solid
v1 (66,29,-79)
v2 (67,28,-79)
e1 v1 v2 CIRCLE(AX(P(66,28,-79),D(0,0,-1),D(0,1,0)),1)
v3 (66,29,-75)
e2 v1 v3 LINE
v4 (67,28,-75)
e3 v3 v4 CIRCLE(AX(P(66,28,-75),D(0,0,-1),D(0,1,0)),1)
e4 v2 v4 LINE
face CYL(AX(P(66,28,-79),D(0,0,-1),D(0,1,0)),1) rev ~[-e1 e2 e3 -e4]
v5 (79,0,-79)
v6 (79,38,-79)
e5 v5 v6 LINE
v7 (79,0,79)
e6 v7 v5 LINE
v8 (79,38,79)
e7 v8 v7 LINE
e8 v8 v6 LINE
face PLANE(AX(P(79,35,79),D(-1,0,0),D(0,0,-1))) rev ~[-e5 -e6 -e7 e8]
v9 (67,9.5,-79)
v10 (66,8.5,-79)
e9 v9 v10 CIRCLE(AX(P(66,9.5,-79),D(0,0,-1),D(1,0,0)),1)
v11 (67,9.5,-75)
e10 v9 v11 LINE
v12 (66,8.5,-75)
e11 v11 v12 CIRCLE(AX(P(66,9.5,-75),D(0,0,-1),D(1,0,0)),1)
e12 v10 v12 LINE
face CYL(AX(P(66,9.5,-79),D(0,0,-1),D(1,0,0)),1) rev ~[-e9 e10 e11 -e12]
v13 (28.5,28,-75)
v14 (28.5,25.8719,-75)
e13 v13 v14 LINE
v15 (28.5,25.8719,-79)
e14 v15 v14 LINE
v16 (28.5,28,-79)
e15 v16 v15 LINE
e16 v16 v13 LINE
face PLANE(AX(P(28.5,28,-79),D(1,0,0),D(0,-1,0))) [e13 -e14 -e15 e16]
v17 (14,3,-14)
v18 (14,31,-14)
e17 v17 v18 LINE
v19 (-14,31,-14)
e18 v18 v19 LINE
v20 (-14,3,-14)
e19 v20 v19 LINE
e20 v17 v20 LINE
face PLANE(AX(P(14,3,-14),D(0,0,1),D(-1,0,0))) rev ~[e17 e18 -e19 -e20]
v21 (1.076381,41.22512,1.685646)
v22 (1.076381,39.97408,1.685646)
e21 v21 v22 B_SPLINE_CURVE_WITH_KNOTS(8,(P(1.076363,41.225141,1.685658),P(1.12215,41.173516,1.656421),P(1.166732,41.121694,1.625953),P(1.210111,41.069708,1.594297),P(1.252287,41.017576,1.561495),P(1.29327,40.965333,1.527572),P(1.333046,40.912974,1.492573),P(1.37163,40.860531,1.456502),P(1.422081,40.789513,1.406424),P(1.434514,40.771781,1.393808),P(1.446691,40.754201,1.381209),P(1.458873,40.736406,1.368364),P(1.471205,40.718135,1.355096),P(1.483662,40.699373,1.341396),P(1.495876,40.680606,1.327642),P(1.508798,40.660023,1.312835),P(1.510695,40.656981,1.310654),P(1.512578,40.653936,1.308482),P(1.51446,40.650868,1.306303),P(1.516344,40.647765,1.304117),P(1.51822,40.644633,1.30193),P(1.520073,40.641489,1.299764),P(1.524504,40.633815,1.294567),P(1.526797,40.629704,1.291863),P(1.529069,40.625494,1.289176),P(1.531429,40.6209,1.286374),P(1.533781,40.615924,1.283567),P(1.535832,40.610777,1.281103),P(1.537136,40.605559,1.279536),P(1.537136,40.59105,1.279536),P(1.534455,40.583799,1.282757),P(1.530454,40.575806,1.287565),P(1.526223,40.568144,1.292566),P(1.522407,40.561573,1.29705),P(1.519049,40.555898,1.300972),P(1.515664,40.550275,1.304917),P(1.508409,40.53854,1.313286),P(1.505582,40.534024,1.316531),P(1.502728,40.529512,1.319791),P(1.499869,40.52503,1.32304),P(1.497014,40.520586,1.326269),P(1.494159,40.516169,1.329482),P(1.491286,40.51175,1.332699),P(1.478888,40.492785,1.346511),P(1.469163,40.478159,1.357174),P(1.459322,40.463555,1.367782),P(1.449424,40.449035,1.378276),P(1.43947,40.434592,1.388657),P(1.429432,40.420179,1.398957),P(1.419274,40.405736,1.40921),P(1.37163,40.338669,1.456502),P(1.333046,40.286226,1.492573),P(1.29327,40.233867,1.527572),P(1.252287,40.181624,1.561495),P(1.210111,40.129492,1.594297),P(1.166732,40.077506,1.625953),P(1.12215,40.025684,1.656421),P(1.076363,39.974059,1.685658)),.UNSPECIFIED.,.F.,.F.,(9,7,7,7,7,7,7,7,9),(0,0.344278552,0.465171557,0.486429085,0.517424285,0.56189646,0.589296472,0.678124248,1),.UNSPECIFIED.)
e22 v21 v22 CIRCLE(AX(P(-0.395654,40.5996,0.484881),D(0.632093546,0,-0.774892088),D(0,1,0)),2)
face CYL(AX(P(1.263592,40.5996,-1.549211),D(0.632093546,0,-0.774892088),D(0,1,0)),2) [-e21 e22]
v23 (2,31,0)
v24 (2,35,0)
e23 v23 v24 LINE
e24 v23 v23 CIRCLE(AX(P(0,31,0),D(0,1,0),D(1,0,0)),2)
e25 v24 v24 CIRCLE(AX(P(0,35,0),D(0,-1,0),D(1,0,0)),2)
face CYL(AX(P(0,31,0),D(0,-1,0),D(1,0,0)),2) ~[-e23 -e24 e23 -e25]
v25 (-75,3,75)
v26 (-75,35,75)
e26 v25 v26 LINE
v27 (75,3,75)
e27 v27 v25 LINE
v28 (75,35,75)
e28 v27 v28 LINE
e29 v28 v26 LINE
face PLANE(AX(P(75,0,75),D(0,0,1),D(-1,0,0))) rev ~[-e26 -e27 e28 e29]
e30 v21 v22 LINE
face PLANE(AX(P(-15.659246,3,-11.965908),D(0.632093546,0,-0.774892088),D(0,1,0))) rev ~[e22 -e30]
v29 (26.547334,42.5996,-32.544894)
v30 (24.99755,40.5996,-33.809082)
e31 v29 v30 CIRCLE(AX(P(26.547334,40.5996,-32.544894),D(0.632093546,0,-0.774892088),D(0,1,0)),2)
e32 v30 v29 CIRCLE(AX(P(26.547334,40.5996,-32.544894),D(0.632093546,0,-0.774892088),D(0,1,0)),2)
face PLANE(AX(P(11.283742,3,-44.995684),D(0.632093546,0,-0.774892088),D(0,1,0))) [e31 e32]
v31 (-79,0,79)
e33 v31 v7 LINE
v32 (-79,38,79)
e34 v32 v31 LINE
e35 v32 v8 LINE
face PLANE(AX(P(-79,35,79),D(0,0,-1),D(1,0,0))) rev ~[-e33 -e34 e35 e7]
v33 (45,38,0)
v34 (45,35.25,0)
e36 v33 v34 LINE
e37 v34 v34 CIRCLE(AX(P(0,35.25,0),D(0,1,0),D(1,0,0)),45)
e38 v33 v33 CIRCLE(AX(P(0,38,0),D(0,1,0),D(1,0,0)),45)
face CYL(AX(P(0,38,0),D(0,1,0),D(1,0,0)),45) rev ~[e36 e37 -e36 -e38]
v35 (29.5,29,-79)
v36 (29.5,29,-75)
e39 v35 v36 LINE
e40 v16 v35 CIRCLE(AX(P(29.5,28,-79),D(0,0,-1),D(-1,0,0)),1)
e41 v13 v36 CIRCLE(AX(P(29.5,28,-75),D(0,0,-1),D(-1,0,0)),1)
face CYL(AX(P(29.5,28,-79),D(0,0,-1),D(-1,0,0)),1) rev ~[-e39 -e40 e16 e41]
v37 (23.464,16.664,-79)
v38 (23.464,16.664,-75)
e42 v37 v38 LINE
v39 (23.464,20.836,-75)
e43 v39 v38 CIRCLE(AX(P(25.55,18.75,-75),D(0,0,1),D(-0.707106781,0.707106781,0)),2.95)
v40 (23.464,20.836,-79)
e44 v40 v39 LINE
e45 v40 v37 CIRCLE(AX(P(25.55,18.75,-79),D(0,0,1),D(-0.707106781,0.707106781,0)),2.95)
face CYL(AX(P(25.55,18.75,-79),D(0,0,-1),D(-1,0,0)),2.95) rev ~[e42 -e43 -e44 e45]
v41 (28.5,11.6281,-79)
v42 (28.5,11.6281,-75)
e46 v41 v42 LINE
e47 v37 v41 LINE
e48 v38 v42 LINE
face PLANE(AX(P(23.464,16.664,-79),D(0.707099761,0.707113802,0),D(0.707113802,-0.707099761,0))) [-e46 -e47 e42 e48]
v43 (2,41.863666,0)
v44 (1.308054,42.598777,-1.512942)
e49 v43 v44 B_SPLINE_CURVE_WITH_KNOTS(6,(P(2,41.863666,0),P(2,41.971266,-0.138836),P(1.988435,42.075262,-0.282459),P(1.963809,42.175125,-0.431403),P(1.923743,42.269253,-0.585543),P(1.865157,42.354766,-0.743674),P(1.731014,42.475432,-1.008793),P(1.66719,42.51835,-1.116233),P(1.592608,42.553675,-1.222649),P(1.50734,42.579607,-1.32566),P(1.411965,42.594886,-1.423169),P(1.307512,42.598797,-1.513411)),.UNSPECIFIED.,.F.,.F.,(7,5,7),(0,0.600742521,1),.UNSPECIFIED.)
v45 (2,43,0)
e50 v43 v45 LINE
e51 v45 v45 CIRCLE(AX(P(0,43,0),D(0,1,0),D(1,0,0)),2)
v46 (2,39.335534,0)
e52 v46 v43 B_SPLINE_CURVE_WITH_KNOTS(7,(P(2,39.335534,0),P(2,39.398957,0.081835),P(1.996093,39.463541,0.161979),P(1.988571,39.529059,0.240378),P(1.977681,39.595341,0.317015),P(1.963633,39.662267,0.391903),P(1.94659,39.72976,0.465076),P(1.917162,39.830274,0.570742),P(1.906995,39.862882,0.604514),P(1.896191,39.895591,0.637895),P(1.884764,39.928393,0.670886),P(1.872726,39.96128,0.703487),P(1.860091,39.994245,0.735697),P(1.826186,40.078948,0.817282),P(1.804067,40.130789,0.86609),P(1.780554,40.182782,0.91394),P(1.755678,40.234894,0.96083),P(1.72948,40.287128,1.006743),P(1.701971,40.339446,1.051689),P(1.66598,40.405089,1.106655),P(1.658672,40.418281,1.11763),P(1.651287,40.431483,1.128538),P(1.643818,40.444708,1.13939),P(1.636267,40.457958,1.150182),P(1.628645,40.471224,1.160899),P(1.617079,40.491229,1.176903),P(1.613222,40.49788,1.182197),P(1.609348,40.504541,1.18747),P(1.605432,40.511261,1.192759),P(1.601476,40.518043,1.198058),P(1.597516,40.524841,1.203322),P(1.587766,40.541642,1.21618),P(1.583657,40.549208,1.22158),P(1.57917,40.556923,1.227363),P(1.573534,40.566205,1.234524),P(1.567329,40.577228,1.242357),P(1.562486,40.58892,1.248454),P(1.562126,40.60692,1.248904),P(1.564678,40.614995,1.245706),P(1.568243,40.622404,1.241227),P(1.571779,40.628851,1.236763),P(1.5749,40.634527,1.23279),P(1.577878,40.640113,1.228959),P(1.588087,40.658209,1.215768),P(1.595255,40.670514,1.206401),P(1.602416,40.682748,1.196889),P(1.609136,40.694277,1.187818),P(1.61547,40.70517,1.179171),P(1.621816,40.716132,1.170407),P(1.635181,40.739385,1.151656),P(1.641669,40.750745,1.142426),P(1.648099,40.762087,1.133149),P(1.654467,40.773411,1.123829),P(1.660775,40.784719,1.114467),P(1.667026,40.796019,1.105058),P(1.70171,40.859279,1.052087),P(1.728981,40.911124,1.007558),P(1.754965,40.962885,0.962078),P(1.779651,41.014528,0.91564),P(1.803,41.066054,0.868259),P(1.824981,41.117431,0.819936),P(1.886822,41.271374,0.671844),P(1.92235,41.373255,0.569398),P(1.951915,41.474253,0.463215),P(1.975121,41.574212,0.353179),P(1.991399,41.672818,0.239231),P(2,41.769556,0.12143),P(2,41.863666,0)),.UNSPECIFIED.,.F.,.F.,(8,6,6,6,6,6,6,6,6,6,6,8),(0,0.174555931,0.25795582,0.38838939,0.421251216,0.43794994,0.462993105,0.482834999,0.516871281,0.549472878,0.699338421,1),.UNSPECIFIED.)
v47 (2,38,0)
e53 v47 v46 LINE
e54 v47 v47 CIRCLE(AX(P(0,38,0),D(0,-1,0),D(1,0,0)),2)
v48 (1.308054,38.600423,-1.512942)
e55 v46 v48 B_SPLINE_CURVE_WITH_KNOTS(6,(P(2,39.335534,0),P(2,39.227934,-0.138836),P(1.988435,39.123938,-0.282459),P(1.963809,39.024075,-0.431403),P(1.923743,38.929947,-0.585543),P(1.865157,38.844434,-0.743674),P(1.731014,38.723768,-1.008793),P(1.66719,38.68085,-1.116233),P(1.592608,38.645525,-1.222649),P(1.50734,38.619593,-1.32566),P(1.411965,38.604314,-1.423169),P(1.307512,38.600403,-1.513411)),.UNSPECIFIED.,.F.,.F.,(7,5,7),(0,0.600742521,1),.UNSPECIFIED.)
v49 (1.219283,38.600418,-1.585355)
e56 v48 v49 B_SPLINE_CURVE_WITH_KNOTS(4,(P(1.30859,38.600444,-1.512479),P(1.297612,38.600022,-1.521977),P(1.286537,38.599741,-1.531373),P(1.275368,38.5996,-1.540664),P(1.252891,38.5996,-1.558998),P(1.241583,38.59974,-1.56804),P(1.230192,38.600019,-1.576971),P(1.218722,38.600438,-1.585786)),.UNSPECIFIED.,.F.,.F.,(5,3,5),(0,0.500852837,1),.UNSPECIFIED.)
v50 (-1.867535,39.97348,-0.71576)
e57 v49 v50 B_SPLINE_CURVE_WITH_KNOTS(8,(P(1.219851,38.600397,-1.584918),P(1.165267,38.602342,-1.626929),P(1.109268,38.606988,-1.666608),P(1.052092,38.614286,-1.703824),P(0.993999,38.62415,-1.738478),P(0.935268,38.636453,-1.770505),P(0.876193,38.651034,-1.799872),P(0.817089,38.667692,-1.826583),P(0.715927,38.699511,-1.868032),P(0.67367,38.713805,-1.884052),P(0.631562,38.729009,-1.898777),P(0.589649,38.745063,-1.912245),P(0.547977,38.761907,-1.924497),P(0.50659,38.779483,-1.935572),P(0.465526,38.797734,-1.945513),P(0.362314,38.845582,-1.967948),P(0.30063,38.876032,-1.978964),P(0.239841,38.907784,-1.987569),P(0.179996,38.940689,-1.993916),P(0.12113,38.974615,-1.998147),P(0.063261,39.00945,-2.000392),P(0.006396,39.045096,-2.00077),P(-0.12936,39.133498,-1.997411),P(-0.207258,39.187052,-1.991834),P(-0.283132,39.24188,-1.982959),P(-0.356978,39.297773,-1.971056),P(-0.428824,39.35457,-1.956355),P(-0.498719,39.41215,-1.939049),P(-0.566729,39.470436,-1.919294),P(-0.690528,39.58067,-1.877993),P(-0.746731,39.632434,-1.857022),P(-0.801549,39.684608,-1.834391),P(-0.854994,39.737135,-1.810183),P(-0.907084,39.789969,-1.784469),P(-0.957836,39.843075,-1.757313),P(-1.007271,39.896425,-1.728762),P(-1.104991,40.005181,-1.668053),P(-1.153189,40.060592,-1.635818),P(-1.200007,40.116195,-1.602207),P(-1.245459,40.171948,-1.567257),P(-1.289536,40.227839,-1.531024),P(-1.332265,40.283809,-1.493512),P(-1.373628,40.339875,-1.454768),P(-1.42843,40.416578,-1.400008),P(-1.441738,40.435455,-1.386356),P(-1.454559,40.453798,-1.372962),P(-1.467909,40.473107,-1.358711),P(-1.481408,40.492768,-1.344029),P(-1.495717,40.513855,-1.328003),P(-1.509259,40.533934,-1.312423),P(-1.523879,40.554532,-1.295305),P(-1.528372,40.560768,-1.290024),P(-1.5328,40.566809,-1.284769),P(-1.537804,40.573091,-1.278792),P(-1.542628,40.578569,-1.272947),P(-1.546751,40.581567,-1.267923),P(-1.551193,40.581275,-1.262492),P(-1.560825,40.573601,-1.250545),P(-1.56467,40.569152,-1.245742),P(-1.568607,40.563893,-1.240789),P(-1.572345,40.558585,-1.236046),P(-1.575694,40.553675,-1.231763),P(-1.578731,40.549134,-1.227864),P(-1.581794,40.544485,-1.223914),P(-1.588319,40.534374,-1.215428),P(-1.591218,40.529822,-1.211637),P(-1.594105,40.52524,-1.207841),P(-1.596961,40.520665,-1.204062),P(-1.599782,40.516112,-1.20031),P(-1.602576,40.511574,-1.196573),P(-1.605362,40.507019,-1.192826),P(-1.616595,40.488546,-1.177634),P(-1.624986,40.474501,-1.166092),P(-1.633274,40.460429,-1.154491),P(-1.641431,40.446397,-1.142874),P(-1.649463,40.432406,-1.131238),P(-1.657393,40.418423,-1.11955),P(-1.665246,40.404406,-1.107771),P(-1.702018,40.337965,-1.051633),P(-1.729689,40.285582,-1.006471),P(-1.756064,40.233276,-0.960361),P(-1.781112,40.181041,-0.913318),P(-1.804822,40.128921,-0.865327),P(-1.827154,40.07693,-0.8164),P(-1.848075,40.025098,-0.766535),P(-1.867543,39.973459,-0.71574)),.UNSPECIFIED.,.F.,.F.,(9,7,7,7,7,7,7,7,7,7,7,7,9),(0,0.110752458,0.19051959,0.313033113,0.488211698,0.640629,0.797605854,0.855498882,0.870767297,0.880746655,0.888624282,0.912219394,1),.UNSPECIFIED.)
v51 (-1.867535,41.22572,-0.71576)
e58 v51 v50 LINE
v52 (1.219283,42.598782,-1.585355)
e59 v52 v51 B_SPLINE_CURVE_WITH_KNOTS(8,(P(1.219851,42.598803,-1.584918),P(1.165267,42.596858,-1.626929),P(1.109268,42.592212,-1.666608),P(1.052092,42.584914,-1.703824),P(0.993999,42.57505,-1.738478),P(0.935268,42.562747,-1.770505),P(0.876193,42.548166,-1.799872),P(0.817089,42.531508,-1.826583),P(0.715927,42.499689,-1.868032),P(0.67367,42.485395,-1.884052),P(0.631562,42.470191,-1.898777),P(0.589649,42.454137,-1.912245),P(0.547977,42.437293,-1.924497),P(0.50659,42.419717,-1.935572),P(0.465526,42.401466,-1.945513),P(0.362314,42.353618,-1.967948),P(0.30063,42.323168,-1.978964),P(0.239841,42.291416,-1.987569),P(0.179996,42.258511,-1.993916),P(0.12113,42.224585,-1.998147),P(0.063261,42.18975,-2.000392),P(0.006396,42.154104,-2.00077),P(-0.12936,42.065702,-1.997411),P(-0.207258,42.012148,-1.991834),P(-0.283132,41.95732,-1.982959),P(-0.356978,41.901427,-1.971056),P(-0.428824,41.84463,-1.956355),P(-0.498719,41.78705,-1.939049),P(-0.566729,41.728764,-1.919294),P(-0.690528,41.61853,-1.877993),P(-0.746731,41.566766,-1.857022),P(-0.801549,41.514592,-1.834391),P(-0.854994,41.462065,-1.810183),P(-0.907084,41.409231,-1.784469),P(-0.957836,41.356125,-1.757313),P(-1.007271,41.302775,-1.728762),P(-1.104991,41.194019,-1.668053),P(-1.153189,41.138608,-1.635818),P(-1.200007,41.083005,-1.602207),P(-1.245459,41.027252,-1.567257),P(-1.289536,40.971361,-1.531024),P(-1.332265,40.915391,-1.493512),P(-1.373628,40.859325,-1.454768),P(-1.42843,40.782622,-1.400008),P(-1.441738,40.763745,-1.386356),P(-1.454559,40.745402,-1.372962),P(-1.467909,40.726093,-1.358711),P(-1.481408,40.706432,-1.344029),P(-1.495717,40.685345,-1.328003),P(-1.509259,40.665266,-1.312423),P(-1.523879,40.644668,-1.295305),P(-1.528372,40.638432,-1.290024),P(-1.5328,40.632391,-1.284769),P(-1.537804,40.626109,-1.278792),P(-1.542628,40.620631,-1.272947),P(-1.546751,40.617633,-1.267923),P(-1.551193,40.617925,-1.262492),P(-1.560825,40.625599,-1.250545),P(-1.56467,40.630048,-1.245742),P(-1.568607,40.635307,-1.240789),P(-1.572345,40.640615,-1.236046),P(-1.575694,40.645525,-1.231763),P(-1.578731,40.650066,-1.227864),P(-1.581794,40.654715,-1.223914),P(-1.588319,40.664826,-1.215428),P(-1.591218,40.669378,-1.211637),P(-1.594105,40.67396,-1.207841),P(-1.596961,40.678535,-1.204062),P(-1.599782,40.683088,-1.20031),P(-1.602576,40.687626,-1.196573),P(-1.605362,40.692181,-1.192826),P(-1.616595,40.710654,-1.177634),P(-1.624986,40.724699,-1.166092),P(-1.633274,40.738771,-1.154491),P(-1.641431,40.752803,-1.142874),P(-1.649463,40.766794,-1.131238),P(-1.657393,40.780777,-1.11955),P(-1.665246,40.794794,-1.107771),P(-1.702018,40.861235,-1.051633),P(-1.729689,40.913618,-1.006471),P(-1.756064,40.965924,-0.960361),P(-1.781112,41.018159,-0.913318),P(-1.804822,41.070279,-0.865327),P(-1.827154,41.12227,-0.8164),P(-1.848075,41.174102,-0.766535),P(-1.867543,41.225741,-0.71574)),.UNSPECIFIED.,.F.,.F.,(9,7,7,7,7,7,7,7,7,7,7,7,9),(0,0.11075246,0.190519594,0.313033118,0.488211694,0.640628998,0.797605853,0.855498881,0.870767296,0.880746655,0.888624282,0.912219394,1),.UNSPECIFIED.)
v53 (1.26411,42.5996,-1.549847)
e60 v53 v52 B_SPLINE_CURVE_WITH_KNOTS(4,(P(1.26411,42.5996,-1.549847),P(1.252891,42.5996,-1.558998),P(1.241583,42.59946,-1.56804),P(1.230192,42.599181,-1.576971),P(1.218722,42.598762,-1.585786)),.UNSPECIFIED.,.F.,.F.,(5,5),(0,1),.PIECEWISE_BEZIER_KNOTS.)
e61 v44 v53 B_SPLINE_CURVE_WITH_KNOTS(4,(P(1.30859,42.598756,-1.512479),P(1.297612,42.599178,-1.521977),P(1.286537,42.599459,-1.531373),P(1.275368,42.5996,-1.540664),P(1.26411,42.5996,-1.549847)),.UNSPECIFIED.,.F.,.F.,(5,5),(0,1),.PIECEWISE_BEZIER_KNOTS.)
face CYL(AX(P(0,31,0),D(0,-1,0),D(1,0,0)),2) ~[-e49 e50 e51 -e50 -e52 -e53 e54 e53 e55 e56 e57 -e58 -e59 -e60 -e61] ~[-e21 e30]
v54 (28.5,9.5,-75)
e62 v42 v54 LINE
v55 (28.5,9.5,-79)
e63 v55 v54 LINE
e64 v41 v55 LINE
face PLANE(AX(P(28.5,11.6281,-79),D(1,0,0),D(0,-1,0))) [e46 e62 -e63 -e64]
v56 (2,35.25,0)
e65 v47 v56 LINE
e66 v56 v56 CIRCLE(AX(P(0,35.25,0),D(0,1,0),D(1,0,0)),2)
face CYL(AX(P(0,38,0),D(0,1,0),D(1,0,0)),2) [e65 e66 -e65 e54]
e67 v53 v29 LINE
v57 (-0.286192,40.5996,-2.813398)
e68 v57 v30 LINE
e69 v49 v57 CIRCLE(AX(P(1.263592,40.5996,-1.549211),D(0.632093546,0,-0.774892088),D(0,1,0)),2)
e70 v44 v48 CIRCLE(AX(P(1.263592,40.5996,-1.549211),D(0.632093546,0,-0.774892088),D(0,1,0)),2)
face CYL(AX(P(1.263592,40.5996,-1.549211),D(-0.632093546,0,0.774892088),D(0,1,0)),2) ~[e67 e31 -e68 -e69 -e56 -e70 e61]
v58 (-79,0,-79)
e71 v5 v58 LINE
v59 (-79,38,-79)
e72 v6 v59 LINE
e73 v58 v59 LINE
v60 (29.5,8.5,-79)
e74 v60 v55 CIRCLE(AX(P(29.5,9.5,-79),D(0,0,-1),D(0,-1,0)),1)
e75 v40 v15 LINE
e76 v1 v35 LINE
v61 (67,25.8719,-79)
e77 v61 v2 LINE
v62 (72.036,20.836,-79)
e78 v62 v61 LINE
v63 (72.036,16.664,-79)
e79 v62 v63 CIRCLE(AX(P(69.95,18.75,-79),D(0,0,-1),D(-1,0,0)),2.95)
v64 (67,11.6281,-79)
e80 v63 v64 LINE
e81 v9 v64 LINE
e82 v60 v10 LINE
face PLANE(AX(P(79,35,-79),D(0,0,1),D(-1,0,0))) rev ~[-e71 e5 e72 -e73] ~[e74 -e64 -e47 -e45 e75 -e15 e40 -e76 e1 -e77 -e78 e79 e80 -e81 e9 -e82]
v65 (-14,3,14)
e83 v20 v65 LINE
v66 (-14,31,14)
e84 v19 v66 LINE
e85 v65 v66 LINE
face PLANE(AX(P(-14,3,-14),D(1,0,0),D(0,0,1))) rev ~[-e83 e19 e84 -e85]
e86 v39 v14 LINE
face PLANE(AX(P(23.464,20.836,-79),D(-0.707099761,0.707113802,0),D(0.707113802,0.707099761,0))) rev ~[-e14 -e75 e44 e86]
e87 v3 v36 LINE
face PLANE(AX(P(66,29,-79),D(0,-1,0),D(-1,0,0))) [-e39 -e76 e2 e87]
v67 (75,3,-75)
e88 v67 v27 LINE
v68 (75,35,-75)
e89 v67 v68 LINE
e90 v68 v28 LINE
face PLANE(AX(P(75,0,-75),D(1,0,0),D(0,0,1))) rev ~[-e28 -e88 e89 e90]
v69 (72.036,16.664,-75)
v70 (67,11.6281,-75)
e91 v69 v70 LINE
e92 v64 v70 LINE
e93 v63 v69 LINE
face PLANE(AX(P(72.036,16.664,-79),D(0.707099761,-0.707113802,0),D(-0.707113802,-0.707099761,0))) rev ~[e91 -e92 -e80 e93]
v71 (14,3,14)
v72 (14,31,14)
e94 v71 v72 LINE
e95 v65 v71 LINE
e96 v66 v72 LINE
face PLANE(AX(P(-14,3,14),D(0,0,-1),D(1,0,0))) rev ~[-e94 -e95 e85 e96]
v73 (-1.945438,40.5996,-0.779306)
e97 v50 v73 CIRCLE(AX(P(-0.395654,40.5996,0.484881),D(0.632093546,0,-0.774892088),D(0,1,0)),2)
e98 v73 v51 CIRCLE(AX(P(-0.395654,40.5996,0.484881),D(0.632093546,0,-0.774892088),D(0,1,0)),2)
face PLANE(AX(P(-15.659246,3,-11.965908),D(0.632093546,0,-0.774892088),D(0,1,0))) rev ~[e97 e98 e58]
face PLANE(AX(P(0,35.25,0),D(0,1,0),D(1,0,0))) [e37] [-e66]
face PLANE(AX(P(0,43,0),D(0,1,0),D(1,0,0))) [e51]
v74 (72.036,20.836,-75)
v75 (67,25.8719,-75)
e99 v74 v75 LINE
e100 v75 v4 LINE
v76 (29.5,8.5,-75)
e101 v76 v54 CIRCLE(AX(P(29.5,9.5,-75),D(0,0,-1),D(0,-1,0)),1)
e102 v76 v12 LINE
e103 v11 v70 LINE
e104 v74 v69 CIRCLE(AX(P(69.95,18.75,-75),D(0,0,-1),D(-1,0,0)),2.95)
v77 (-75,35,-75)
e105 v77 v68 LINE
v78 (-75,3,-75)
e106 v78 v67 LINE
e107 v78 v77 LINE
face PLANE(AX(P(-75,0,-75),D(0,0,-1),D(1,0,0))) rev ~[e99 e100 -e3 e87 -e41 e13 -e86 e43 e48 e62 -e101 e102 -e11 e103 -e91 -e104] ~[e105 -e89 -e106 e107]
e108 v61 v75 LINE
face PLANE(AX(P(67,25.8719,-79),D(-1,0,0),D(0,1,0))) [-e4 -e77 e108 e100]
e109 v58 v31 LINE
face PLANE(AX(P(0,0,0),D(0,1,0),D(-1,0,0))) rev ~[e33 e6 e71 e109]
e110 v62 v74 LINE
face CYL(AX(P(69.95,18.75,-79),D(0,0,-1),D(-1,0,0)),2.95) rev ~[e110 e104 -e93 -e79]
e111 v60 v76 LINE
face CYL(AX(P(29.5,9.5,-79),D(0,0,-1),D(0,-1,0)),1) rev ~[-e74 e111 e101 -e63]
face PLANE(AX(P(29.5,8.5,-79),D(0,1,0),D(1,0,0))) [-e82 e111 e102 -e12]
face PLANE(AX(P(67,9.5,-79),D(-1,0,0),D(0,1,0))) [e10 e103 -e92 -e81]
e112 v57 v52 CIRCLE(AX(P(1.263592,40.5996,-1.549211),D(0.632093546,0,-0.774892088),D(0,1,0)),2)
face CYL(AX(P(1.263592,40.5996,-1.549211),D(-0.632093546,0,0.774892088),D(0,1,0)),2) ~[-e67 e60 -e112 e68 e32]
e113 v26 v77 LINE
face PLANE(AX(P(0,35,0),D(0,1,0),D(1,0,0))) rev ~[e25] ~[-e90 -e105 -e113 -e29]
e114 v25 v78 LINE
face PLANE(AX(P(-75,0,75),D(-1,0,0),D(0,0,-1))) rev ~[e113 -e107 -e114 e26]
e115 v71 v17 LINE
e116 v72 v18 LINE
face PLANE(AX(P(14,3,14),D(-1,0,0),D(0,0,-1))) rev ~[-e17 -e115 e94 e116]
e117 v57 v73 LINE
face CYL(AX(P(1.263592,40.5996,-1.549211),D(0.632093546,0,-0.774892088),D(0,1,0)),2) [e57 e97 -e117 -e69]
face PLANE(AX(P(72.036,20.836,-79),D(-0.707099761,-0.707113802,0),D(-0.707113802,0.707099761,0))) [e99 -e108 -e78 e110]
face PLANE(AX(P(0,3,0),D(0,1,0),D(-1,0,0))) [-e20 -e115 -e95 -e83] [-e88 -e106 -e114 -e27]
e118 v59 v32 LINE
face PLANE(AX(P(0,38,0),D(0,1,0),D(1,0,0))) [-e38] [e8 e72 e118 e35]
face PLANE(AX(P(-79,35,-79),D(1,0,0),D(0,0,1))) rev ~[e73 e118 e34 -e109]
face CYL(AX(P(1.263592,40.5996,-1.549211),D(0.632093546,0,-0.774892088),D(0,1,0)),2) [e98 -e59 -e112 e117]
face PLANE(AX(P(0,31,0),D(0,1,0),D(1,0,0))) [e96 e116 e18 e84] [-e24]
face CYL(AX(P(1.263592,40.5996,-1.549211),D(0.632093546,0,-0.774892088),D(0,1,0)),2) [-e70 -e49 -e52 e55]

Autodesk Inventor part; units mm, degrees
ref_plane "YZ Plane" through (0, 0, 0) normal (1, 0, 0) x (0, 1, 0)
ref_plane "XZ Plane" through (0, 0, 0) normal (0, 1, 0) x (-1, 0, 0)
sketch "Sketch1" plane through (0, 0, 0) normal (0, 1, 0) x (-1, 0, 0)
  line L0 (-75, 75) -> (75, 75)
  line L1 (75, 75) -> (75, -75)
  line L2 (75, -75) -> (-75, -75)
  line L3 (-75, -75) -> (-75, 75)
  line L4 (-75, 75) -> (75, -75) construction
  line L5 (75, 75) -> (-75, -75) construction
  line L6 (14, 14) -> (-14, 14)
  line L7 (-14, 14) -> (-14, -14)
  line L8 (-14, -14) -> (14, -14)
  line L9 (14, -14) -> (14, 14)
  line L10 (14, 14) -> (-14, -14) construction
  line L11 (-14, 14) -> (14, -14) construction
  circle A0 centre (0, 0) radius 35
  line L12 (-79, -79) -> (79, -79)
  line L13 (79, -79) -> (79, 79)
  line L14 (79, 79) -> (-79, 79)
  line L15 (-79, 79) -> (-79, -79)
  dimension "d0" = 150
  dimension "d1" = 150
  dimension "d2" = 28
  dimension "d3" = 28
  dimension "d4" = 70
  dimension "d7" = 4
extrude "Extrusion2" add sketch "Sketch1" along normal blind 35 contours L15 L14 L13 L12
extrude "Extrusion3" add sketch "Sketch1" along normal blind 3 contours L0 L1 L2 L3 | L9 L8 L7 L6 | A0
sketch "Sketch2" plane through (0, 3, 0) normal (0, 1, 0) x (1, 0, 0)
  line L0 (-14, -14) -> (14, -14)
  line L1 (14, -14) -> (14, 14)
  line L2 (14, 14) -> (-14, 14)
  line L3 (-14, 14) -> (-14, -14)
  line L4 (-14, -14) -> (14, 14) construction
  line L5 (14, -14) -> (-14, 14) construction
  point P0 (0, 0)
  dimension "d12" = 28
  dimension "d13" = 28
extrude "Extrusion4" add sketch "Sketch2" along normal blind 28
sketch "Sketch3" plane through (0, 31, 0) normal (0, 1, 0) x (1, 0, 0)
  circle A0 centre (0, 0) radius 2
  dimension "d16" = 4
extrude "Extrusion5" add sketch "Sketch3" along normal blind 12
sketch "Sketch4" plane through (0, 3, 0) normal (0, 1, 0) x (1, 0, 0)
  line L0 (-65, 72) -> (65, 72)
  line L1 (65, 72) -> (65, -18)
  line L2 (65, -18) -> (24, -18)
  line L3 (24, -18) -> (24, 24)
  line L4 (24, 24) -> (-24, 24)
  line L5 (-24, 24) -> (-24, -18)
  line L6 (-24, -18) -> (-65, -18)
  line L7 (-65, -18) -> (-65, 72)
  line L8 (-75, -75) -> (-75, 75) projected
  line L9 (75, 75) -> (75, -75) projected
  line L10 (-75, 75) -> (75, 75) projected
  line L11 (-14, 14) -> (14, 14) projected
  line L12 (-14, 14) -> (-14, -14) projected
  line L13 (14, 14) -> (14, -14) projected
  line L14 (39, -68) -> (65, -68)
  line L15 (65, -68) -> (65, -28)
  line L16 (65, -28) -> (39, -28)
  line L17 (39, -28) -> (39, -68)
  line L18 (-14, -14) -> (14, -14) projected
  point P0 (0, 0)
  point P1 (52, -28)
  point P2 (0, -14)
  dimension "d20" = 10
  dimension "d21" = 3
  dimension "d22" = 10
  dimension "d23" = 10
  dimension "d24" = 10
  dimension "d25" = 90
  dimension "d26" = 40
  dimension "d29" = 26
  dimension "d30" = 10
  dimension "d31" = 10
sketch "Sketch5" plane through (0, 31, 0) normal (0, 1, 0) x (1, 0, 0)
  circle A0 centre (0, 0) radius 45
  circle A1 centre (0, 0) radius 2.5714
  dimension "d32" = 90
sketch "Sketch6" plane through (0, 35, 0) normal (0, 1, 0) x (1, 0, 0)
  line L0 (79, 79) -> (-79, 79) projected
  line L1 (-79, 79) -> (-79, -79) projected
  line L2 (79, 79) -> (-79, 79)
  line L3 (-79, 79) -> (-79, -79)
  line L4 (-79, -79) -> (79, -79)
  line L5 (79, -79) -> (79, 79)
  point P0 (0, 0)
extrude "Extrusion6" add sketch "Sketch6" along normal blind 3
sketch "Sketch7" plane through (0, 38, 0) normal (0, 1, 0) x (1, 0, 0)
  circle A0 centre (0, 0) radius 2 projected
  circle A1 centre (0, 0) radius 45
  circle A2 centre (0, 0) radius 2.7692
  dimension "d42" = 90
extrude "Extrusion8" cut sketch "Sketch7" against normal blind 2.75 contours A1 | A2
ref_plane "Work Plane1" through (-14, 3, -14) normal (0.6321, 0, -0.7749) x (0, 1, 0)
sketch "Sketch8" plane through (-14, 3, -14) normal (0.6321, 0, -0.7749) x (0, 1, 0)
  circle A0 centre (37.5996, 19.6977) radius 2
  line L0 (32.25, 17.6977) -> (40, 17.6977) projected
  point P0 (-3, 19.6977)
extrude "Extrusion9" add sketch "Sketch8" along normal blind 40 and the other way blind 2.625
ref_plane "Work Plane2" through (0, 30.5, 0) normal (0, 1, 0) x (1, 0, 0)
sketch "Sketch9" plane through (0, 30.5, 0) normal (0, 1, 0) x (1, 0, 0)
  point P0 (0, 0)
sketch "Sketch10" plane through (79, 0, 79) normal (1, 0, 0) x (0, 0, -1)
  line L0 (8, 7.5) -> (46.5, 7.5)
  line L1 (46.5, 7.5) -> (46.5, 28)
  line L2 (46.5, 28) -> (8, 28)
  line L3 (8, 28) -> (8, 7.5)
  line L4 (0, 38) -> (158, 38) projected
  line L5 (0, 0) -> (0, 38) projected
  point P0 (79, 0)
  dimension "d50" = 38.5
  dimension "d51" = 20.5
  dimension "d52" = 10
  dimension "d53" = 8
sketch "Sketch11" plane through (79, 0, -79) normal (0, 0, -1) x (-1, 0, 0)
  line L0 (13, 29) -> (49.5, 29)
  line L1 (50.5, 28) -> (50.5, 9.5)
  line L2 (49.5, 8.5) -> (13, 8.5)
  line L3 (12, 9.5) -> (12, 28)
  circle A0 centre (9.05, 18.75) radius 2.95
  line L4 (6.964, 16.664) -> (12, 11.6281)
  line L5 (6.964, 20.836) -> (12, 25.8719)
  arc A1 (13, 29) -> (12, 28) centre (13, 28) ccw
  arc A2 (12, 9.5) -> (13, 8.5) centre (13, 9.5) ccw
  arc A3 (49.5, 8.5) -> (50.5, 9.5) centre (49.5, 9.5) ccw
  arc A4 (50.5, 28) -> (49.5, 29) centre (49.5, 28) ccw
  line L6 (0, 0) -> (0, 38) projected
  line L7 (0, 38) -> (158, 38) projected
  line L8 (55.536, 16.664) -> (50.5, 11.6281)
  circle A5 centre (53.45, 18.75) radius 2.95
  line L9 (55.536, 20.836) -> (50.5, 25.8719)
  point P0 (79, 0)
  point P1 (50.5, 8.5)
  point P2 (50.5, 29)
  point P3 (12, 8.5)
  point P4 (12, 18.75)
  point P5 (50.5, 18.75)
  dimension "d54" = 38.5
  dimension "d55" = 20.5
  dimension "d56" = 5.9
  dimension "d57" = 1
  dimension "d58" = 12
  dimension "d59" = 9
  dimension "d60" = 0
  dimension "d61" = 135
  dimension "d62" = 135
  dimension "d64" = 0
  dimension "d65" = 5.9
  dimension "d66" = 0
  dimension "d67" = 0
  dimension "d68" = 135
  dimension "d69" = 135
extrude "Extrusion10" cut sketch "Sketch11" against normal blind 19.75
properties part number "GPS-Compass-casing"
